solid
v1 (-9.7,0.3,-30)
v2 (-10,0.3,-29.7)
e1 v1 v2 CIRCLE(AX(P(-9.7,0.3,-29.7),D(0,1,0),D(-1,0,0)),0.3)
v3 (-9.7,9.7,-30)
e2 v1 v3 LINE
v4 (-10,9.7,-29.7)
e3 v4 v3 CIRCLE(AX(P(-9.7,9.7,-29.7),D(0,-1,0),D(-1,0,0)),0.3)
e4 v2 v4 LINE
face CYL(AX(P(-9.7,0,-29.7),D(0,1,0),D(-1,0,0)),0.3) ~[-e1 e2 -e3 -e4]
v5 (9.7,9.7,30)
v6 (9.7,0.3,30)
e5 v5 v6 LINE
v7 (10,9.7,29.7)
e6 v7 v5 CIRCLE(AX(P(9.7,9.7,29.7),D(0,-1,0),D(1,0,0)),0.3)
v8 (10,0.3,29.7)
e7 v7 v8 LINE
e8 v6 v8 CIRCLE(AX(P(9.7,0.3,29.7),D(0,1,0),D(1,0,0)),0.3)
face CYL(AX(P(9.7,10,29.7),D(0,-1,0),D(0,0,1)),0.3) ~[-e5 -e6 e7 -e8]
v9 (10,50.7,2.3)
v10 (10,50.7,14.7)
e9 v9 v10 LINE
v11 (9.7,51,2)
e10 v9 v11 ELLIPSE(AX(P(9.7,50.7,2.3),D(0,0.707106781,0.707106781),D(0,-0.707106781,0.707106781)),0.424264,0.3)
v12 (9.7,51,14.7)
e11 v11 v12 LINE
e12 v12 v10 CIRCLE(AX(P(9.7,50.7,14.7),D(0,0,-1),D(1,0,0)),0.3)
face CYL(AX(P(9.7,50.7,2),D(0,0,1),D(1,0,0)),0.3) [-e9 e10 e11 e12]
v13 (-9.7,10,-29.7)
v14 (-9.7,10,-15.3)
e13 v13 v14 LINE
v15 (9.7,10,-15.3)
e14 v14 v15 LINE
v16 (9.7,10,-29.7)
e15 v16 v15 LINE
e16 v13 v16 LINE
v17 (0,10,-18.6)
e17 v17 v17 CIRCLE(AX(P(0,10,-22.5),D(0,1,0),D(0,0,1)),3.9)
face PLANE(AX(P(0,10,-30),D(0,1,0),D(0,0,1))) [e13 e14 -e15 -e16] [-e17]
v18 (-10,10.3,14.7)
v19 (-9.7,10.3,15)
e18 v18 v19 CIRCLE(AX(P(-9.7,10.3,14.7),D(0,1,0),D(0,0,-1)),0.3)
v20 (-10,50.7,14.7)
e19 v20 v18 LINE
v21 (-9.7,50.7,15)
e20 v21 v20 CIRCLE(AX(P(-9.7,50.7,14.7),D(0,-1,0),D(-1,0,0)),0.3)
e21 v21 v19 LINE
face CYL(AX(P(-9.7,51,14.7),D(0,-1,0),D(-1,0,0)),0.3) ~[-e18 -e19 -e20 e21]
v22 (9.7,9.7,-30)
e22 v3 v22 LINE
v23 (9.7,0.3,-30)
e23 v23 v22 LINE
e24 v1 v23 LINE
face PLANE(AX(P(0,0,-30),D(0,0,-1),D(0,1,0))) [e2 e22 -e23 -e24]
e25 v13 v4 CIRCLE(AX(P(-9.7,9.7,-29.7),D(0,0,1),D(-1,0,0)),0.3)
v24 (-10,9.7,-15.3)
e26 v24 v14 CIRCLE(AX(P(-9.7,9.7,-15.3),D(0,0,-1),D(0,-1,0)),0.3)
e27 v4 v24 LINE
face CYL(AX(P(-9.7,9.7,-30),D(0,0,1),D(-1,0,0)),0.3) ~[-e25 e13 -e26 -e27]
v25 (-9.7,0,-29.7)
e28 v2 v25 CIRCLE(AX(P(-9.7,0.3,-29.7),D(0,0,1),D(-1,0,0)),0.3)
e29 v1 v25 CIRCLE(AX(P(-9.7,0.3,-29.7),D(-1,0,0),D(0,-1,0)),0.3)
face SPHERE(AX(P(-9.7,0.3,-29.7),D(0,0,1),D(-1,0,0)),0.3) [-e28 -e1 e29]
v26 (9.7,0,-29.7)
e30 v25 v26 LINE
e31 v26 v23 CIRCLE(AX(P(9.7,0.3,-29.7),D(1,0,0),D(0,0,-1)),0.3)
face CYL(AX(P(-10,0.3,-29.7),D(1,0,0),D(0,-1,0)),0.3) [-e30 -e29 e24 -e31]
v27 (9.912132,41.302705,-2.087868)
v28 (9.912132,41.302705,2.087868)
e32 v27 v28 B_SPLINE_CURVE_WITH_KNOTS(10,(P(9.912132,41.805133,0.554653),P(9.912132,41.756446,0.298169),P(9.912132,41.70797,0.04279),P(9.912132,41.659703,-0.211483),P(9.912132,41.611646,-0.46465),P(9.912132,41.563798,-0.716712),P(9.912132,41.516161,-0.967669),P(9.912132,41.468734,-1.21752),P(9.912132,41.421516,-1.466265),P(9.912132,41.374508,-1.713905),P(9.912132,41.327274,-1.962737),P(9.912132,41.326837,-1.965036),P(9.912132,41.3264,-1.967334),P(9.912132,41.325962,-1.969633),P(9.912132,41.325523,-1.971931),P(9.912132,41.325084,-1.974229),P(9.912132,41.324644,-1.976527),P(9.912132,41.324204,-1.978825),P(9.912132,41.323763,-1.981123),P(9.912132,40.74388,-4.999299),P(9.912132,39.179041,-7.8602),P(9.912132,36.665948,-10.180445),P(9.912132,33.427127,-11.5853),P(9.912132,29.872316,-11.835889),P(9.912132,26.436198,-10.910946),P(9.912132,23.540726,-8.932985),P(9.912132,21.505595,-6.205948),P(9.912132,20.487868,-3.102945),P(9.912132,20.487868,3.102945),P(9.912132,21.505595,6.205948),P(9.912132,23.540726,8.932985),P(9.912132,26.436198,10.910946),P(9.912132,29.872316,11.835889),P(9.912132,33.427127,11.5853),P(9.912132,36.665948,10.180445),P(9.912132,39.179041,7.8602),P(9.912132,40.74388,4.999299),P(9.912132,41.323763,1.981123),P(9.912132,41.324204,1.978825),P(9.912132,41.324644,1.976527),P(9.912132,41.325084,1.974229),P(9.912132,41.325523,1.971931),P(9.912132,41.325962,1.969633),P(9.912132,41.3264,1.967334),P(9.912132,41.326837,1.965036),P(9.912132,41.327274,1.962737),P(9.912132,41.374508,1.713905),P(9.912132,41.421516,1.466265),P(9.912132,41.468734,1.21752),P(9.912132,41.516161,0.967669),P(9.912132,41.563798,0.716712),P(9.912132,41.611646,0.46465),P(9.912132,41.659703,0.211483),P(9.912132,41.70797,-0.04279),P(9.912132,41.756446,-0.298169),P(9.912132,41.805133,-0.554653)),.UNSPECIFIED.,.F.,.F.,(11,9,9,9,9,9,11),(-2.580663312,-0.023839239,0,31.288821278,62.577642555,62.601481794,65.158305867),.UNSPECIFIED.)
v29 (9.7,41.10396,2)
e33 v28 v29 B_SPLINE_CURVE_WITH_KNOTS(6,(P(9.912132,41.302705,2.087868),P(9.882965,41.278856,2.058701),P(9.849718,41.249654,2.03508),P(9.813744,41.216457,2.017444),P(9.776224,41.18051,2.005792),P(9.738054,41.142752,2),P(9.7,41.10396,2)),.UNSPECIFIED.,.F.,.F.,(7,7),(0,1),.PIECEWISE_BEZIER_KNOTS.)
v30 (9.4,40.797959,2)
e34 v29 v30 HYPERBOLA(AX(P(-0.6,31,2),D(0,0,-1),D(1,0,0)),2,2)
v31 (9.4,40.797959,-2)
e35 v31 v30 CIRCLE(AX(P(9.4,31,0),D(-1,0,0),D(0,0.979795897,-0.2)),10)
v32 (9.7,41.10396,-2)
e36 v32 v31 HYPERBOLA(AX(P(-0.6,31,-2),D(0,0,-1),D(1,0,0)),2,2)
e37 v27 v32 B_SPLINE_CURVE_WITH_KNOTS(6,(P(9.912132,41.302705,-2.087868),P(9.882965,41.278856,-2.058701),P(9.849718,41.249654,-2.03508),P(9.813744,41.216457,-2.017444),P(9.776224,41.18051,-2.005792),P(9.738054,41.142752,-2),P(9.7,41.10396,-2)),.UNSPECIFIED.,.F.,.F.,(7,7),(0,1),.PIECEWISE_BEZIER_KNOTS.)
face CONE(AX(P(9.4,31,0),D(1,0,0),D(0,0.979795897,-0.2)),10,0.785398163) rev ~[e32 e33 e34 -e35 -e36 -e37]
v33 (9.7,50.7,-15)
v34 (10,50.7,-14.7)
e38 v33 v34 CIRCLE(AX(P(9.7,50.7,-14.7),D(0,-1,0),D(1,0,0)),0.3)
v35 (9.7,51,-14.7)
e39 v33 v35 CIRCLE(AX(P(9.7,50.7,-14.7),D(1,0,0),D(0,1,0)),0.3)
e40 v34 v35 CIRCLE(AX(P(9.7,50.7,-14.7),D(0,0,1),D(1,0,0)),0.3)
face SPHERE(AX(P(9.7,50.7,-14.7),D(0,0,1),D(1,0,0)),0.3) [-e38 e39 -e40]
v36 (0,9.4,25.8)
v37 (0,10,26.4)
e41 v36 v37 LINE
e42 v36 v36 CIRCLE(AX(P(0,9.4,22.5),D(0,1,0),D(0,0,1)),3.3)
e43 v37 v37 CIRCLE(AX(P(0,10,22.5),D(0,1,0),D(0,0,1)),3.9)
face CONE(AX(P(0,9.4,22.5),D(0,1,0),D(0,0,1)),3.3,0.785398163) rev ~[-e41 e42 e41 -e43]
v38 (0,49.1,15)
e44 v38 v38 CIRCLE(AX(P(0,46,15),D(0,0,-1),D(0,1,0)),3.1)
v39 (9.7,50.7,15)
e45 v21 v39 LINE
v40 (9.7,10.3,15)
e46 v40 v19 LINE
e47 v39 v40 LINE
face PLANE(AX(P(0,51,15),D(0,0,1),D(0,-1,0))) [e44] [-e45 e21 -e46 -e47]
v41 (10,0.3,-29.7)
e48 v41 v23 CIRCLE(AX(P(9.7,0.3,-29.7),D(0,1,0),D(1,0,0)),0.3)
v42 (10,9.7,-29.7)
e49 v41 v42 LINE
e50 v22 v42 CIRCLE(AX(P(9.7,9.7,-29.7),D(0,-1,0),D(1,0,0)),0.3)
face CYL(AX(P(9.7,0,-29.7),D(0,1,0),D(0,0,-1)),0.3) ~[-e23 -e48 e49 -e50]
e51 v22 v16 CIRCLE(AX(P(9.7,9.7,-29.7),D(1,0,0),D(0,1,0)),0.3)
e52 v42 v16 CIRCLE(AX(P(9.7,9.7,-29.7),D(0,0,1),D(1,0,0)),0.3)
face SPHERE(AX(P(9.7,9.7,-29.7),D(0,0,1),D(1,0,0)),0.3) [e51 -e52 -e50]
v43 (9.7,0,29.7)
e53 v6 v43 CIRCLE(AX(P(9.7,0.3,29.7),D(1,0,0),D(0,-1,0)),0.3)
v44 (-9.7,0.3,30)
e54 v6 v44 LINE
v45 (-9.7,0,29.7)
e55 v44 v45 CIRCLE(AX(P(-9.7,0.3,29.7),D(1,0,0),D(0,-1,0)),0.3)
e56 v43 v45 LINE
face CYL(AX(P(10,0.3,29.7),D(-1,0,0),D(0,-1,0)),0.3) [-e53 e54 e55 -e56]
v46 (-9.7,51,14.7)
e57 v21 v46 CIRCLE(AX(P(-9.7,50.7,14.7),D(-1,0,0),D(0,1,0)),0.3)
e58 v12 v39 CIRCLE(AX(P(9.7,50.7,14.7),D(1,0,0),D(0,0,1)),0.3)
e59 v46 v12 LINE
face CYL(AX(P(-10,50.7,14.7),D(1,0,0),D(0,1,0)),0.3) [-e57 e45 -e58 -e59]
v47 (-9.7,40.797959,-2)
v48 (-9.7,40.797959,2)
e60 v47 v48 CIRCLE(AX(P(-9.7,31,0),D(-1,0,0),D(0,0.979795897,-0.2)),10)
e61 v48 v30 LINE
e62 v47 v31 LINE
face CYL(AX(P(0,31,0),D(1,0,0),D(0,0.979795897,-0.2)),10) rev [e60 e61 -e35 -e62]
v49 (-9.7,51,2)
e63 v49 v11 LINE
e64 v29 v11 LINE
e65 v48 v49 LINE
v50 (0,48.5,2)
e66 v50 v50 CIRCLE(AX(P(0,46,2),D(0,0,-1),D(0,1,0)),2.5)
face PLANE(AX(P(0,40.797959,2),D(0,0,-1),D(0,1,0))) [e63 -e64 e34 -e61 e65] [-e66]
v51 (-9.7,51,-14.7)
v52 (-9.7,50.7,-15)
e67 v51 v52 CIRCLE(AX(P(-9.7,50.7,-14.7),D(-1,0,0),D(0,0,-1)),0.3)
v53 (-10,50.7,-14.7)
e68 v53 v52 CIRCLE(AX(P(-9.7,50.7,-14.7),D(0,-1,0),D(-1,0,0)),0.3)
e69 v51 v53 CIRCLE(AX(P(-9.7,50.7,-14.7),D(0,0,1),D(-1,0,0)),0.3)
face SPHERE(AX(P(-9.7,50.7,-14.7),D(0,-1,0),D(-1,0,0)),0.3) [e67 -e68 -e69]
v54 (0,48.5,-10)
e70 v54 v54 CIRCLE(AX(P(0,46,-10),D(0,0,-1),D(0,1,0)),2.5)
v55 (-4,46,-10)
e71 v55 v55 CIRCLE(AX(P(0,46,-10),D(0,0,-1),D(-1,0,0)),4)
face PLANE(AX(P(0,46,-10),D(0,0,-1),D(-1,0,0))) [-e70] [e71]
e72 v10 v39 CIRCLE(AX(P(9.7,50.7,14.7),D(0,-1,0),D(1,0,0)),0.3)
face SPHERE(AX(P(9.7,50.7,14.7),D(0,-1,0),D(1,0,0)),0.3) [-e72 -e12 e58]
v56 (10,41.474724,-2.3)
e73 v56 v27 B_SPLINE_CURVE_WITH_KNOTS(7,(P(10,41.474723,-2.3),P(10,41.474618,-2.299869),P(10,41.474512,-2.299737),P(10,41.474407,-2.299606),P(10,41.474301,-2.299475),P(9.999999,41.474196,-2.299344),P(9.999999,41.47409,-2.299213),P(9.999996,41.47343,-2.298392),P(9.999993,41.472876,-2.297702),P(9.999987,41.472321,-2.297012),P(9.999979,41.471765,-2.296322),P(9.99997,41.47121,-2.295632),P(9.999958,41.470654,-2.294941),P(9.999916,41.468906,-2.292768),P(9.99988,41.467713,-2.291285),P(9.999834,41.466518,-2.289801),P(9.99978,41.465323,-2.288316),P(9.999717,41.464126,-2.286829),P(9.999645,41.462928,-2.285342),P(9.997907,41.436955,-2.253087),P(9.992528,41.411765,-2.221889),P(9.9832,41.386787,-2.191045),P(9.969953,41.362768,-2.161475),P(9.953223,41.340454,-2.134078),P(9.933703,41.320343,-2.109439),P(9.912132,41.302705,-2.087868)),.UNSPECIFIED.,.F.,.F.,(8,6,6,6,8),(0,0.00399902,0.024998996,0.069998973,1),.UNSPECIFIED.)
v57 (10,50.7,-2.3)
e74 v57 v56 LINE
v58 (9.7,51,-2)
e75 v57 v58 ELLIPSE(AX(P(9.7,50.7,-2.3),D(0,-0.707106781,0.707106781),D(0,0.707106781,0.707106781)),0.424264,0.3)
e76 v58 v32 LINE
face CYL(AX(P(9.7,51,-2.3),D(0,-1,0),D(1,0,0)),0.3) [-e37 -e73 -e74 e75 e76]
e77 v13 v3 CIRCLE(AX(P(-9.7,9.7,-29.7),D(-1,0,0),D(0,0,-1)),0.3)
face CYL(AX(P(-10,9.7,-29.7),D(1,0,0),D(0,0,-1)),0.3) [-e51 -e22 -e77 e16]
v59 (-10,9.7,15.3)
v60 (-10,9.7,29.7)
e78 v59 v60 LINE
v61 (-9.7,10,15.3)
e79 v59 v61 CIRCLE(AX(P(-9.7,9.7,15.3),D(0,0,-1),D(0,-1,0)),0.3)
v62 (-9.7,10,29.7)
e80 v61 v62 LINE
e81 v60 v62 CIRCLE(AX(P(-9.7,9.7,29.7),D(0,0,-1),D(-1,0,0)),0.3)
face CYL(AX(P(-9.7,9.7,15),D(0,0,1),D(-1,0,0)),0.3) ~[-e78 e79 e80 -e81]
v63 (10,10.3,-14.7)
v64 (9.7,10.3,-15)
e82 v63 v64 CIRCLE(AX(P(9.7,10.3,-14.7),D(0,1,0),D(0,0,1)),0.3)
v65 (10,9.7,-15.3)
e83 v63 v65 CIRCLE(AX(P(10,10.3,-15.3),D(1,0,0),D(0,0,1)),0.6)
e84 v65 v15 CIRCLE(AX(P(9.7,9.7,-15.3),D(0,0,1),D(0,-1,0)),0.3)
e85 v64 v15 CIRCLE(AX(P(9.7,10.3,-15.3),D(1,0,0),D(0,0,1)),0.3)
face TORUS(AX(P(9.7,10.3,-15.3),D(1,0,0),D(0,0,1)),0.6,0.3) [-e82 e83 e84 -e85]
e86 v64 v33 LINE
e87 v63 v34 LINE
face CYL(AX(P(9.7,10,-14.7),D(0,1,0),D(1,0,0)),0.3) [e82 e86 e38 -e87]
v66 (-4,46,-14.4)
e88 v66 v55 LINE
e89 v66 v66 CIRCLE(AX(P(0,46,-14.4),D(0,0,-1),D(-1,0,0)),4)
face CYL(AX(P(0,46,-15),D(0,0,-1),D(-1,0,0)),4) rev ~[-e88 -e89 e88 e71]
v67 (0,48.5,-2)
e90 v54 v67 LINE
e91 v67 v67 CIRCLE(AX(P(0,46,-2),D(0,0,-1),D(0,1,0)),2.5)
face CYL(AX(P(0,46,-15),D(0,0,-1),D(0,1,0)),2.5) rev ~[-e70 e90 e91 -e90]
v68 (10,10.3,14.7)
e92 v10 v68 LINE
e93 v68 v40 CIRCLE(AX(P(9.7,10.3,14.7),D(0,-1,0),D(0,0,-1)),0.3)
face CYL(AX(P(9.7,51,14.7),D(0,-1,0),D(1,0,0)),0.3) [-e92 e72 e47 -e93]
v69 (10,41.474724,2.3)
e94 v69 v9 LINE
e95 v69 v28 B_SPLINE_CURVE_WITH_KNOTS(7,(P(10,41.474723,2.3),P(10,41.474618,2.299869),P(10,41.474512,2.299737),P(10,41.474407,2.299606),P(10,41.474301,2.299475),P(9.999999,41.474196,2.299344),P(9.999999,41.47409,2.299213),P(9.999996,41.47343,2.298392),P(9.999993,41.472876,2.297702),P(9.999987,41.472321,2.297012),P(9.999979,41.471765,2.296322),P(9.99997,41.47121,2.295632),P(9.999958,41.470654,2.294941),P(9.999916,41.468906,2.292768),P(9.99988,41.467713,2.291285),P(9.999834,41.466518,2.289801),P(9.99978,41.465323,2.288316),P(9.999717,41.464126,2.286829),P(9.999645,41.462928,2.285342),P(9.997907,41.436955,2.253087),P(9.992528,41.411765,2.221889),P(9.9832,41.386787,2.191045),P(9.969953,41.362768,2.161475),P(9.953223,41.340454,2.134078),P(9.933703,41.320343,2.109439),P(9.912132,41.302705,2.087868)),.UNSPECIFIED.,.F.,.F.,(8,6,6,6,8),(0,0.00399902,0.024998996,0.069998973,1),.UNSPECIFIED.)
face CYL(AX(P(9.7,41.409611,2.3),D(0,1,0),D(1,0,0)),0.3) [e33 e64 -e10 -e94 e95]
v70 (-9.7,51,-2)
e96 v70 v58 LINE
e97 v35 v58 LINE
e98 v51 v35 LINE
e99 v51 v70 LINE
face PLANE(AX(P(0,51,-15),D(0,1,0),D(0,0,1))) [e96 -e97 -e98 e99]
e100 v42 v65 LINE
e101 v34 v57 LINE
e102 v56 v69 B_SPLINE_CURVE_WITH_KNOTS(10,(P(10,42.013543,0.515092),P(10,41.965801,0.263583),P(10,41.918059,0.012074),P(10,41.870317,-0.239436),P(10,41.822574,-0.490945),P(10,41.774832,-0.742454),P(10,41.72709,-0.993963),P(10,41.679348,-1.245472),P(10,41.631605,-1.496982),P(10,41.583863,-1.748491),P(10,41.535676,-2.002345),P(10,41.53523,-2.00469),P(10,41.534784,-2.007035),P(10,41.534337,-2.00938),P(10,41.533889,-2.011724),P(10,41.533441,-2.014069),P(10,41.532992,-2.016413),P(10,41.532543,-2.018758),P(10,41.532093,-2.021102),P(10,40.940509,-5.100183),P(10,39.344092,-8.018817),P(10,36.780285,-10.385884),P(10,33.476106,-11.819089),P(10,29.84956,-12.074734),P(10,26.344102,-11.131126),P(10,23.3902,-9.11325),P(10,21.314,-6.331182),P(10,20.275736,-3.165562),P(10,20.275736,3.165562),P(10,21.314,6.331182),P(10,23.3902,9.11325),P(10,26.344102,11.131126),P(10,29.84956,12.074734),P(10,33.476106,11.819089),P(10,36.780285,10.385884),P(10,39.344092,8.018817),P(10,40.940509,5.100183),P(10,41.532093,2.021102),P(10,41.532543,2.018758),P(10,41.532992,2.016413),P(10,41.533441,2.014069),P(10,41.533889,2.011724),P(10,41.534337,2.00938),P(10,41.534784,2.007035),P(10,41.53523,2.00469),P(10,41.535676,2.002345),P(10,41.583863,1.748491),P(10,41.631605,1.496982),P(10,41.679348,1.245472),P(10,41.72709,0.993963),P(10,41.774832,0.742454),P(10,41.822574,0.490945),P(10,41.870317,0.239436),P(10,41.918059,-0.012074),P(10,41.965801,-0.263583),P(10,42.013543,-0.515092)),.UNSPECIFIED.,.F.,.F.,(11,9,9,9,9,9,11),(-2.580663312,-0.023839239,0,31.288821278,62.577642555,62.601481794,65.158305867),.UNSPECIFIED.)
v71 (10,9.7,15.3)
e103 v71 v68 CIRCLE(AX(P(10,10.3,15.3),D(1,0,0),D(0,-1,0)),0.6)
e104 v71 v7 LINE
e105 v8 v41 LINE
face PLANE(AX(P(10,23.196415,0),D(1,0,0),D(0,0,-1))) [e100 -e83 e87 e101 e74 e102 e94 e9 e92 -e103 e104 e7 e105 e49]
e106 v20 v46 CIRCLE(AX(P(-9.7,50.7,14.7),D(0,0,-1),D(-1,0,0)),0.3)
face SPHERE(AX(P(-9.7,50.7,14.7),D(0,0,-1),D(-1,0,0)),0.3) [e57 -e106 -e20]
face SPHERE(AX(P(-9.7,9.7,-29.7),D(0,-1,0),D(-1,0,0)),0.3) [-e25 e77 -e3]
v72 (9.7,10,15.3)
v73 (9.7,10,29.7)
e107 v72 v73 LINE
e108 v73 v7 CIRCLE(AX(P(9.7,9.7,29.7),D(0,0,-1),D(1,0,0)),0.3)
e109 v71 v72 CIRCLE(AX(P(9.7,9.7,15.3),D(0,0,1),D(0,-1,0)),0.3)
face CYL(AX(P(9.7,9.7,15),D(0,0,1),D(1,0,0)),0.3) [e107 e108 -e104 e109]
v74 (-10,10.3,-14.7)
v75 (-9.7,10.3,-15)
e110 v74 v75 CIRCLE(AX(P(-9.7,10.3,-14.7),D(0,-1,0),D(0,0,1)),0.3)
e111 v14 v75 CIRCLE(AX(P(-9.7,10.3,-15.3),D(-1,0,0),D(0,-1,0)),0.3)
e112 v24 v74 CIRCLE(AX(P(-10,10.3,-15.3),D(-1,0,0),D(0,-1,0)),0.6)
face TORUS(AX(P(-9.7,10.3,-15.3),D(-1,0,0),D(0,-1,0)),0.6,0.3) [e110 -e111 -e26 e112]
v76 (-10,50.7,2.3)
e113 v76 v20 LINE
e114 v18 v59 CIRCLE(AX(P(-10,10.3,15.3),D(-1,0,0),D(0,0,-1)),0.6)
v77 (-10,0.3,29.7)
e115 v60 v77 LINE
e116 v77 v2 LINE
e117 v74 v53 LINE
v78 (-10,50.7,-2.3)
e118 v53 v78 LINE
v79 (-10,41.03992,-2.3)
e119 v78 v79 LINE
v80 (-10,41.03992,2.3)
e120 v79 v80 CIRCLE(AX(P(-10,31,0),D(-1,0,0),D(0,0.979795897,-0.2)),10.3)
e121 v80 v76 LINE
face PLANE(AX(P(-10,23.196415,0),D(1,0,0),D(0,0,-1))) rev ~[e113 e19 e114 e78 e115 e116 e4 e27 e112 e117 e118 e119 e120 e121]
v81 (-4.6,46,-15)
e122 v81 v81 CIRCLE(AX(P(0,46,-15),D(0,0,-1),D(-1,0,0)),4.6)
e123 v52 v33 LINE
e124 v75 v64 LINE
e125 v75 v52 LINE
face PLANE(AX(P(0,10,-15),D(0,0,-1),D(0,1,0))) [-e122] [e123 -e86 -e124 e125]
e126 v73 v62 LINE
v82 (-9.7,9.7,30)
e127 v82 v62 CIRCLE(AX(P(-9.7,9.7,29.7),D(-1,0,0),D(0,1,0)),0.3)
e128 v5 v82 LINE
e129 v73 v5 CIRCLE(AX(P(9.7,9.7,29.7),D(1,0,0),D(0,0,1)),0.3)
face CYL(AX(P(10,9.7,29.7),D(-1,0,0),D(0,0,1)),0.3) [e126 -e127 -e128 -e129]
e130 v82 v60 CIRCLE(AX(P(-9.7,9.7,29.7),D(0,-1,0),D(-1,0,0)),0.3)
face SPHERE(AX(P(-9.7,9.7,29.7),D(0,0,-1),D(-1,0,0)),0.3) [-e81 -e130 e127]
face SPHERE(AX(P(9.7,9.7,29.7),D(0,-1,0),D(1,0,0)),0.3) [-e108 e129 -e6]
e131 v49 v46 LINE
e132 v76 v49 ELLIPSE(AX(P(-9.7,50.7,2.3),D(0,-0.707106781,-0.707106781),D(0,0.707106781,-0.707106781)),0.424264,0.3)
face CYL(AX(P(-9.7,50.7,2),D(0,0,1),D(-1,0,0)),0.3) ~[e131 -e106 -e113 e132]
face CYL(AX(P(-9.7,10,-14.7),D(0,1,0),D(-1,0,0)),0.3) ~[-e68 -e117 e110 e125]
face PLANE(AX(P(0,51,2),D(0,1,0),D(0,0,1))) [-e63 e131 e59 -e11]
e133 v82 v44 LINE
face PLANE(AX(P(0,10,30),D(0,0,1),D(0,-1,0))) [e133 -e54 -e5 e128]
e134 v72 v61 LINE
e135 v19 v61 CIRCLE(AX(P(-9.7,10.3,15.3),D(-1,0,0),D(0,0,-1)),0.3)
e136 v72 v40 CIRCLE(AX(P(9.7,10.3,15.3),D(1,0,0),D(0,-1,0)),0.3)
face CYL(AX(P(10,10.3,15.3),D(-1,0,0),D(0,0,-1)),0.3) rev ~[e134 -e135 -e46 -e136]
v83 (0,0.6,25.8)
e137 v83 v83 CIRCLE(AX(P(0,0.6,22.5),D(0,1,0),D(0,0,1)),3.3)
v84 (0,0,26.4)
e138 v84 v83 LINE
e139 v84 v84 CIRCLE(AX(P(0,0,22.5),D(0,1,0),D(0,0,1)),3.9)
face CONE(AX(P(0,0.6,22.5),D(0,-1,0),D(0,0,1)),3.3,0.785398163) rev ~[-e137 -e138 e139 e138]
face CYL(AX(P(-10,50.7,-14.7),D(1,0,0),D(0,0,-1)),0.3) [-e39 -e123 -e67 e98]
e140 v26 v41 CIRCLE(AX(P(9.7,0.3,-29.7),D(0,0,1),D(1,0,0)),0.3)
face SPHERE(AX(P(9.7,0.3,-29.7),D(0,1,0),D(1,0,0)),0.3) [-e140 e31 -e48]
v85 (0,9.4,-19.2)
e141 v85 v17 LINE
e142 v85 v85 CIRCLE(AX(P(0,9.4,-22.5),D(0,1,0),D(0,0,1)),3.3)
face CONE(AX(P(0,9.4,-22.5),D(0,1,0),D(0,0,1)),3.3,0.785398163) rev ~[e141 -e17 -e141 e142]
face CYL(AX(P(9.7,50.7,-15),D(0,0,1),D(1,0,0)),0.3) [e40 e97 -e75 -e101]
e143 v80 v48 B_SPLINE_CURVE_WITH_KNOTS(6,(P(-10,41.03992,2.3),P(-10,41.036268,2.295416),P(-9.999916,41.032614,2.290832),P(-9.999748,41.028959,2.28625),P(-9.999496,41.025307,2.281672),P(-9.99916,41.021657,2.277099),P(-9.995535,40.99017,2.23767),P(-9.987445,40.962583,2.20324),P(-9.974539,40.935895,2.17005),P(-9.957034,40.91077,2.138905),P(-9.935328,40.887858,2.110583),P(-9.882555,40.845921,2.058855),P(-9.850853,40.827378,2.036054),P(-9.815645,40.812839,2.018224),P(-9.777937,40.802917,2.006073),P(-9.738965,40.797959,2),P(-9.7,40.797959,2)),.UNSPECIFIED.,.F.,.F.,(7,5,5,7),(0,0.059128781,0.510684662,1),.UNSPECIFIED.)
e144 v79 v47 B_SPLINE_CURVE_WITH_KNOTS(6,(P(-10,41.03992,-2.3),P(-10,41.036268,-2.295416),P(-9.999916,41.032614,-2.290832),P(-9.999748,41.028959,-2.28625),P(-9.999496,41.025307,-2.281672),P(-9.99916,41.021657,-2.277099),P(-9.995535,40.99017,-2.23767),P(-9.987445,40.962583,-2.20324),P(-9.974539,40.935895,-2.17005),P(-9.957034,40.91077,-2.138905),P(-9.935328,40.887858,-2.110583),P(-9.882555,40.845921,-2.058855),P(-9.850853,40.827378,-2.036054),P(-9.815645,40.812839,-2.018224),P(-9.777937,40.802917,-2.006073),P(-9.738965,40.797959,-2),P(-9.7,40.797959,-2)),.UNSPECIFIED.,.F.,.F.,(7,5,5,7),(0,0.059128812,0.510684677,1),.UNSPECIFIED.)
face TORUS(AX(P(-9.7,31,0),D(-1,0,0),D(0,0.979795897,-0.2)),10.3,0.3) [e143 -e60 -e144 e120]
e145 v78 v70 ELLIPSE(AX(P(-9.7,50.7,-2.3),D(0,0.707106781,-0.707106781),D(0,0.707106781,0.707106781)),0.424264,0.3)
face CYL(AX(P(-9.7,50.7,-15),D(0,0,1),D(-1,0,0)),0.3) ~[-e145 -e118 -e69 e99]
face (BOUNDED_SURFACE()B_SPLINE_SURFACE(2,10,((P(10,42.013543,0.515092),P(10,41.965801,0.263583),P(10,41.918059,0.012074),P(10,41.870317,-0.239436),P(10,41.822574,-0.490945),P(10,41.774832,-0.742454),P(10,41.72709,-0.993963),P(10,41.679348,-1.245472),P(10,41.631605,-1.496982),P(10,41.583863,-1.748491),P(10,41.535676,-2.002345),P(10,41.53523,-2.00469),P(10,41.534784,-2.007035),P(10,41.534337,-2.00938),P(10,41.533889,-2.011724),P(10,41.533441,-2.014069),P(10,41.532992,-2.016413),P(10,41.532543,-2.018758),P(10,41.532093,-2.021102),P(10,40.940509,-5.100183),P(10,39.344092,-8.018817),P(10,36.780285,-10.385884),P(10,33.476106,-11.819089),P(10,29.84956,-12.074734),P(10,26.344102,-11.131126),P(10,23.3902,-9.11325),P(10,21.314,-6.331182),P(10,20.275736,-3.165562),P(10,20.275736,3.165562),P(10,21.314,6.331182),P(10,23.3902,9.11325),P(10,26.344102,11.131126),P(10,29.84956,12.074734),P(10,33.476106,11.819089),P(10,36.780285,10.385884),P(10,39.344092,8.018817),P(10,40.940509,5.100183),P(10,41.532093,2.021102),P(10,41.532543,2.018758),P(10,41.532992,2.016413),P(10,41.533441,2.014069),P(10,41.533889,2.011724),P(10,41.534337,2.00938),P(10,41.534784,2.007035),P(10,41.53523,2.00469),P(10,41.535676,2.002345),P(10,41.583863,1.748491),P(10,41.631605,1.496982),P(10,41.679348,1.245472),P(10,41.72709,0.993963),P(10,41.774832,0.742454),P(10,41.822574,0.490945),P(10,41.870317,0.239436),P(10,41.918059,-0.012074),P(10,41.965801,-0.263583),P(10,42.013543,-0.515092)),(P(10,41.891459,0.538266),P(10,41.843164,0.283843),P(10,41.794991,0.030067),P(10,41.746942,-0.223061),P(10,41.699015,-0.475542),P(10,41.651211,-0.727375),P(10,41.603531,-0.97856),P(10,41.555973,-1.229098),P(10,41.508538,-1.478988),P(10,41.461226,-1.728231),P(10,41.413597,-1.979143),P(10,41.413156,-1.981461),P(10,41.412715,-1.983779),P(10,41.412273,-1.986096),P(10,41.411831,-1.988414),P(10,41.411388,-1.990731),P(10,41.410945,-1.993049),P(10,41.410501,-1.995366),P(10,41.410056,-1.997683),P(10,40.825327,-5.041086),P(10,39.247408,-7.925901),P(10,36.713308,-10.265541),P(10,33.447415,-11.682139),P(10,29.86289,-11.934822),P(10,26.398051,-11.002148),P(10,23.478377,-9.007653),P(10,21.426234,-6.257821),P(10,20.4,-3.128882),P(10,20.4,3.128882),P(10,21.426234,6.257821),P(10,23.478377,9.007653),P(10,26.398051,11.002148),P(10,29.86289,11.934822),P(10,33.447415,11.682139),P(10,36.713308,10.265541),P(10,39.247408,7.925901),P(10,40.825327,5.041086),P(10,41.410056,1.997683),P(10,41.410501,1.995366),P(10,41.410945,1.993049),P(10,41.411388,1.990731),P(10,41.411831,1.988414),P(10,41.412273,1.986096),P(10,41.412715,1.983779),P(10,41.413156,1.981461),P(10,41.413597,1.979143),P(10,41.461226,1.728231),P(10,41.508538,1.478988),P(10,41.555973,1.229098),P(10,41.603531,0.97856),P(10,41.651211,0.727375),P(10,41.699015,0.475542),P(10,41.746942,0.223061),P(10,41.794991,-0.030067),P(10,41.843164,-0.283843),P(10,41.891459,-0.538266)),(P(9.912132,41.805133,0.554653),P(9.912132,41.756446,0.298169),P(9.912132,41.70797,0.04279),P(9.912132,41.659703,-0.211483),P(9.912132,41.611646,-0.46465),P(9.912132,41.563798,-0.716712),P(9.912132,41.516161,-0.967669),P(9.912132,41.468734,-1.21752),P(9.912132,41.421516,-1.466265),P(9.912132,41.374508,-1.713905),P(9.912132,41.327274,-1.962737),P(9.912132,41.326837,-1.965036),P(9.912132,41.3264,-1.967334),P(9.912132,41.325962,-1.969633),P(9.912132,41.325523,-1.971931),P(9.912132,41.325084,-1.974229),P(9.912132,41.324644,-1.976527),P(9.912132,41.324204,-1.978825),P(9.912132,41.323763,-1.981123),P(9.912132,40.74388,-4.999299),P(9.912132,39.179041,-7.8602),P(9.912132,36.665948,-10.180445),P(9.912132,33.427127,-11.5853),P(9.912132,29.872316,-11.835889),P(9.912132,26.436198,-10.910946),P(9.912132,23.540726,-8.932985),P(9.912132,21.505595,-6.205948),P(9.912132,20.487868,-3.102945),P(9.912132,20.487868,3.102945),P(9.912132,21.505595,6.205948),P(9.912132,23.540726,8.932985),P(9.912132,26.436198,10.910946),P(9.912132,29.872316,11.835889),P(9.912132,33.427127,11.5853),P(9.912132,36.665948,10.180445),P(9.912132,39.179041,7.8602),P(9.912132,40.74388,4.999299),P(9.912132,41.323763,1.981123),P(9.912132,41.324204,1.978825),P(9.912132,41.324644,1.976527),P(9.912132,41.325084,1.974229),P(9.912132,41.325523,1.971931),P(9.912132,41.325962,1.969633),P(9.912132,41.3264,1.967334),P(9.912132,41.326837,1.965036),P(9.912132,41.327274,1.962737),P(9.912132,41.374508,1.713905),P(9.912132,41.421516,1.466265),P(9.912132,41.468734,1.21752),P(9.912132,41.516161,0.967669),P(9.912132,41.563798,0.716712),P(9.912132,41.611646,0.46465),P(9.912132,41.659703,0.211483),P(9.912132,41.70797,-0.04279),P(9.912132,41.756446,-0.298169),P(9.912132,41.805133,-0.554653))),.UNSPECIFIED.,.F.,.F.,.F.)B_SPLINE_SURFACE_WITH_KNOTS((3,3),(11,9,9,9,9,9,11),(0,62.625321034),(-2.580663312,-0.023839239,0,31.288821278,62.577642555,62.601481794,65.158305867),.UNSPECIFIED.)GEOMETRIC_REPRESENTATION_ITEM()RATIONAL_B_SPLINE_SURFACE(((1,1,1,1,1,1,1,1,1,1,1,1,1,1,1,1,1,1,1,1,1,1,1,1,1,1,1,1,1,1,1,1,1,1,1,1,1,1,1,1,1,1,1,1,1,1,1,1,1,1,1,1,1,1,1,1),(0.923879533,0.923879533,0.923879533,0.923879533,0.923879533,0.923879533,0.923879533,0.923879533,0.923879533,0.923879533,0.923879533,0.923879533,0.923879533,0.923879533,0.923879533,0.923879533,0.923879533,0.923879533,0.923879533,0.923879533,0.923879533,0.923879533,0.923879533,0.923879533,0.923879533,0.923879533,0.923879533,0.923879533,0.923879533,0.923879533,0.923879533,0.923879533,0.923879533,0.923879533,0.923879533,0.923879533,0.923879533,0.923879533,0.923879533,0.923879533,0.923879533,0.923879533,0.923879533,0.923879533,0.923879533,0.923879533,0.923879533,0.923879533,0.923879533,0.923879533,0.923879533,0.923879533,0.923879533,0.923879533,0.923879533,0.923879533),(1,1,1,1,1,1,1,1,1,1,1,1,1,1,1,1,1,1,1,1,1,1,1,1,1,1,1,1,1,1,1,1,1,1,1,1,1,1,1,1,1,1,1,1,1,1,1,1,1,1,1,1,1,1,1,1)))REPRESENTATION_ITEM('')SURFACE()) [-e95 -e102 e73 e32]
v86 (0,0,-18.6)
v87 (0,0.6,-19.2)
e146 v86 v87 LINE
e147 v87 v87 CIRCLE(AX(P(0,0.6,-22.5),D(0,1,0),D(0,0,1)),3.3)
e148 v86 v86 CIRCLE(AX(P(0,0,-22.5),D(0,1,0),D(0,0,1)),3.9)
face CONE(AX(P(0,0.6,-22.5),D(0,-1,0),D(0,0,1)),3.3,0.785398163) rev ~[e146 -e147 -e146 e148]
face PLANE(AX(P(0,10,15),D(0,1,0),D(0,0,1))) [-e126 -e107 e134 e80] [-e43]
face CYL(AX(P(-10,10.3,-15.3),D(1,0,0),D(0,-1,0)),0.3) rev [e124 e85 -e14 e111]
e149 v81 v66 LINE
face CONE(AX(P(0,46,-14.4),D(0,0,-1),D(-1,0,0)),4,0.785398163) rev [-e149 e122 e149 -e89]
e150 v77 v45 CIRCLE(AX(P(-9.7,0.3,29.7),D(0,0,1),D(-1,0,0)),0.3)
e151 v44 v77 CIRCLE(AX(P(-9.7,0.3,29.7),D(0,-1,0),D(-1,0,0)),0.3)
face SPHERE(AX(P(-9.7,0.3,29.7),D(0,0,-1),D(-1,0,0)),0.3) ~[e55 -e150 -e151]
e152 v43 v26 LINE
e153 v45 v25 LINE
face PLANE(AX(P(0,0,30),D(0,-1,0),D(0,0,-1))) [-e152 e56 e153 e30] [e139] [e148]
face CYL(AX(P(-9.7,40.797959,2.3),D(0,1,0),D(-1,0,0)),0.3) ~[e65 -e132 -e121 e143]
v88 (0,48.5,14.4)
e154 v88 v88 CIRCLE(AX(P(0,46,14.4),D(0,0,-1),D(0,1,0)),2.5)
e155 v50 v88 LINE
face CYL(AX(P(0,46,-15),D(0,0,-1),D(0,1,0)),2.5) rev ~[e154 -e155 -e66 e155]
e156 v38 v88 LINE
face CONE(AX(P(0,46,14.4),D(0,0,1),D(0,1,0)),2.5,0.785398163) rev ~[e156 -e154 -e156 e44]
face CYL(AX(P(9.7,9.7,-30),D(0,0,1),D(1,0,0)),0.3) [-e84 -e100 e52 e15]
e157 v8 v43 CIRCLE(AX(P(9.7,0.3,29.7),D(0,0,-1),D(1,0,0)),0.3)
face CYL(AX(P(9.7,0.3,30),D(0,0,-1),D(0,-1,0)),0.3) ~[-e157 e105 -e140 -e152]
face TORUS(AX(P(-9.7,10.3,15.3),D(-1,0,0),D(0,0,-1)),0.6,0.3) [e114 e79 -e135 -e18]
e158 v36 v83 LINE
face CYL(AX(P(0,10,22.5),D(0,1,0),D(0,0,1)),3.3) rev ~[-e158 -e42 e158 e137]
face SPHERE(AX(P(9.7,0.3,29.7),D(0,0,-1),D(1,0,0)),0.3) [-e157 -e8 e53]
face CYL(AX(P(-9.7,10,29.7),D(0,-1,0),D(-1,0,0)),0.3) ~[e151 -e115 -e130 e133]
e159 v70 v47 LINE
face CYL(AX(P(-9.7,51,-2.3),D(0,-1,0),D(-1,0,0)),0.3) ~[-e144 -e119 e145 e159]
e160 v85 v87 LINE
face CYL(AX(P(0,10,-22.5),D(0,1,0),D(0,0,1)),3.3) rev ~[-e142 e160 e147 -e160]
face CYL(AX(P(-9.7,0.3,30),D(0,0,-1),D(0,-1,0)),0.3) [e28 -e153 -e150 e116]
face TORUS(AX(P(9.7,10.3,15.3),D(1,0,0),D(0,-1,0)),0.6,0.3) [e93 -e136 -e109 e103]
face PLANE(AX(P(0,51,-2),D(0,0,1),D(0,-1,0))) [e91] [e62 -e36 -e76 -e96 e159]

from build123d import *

# Parameters (mm, degrees)
BOSS_EXTRUDE1_DEPTH = 10
SKETCH2_R           = 3.3
CUT_EXTRUDE1_DEPTH  = 11
SKETCH3_R           = 2.5
CUT_EXTRUDE2_DEPTH  = 46
SKETCH4_R           = 4
CUT_EXTRUDE3_DEPTH  = 5
CHAMFER_1_SIZE      = 0.6
FILLET_1_R          = 0.3


with BuildPart() as part:
    # Sketch1 → Boss-Extrude1 (new body, symmetric)
    with BuildSketch(Plane(origin=(0, 0, 0), x_dir=(0, 0, -1), z_dir=(1, 0, 0))):
        with BuildLine():
            Line((-30, 0), (30, 0))
            Line((30, 0), (30, 10))
            Line((30, 10), (15, 10))
            Line((15, 10), (15, 51))
            Line((15, 51), (2, 51))
            Line((2, 51), (2, 40.797958971))
            ThreePointArc((2, 40.797958971), (0, 21), (-2, 40.797958971))
            Line((-2, 40.797958971), (-2, 51))
            Line((-2, 51), (-15, 51))
            Line((-15, 51), (-15, 10))
            Line((-15, 10), (-30, 10))
            Line((-30, 10), (-30, 0))
        make_face()
    extrude(amount=BOSS_EXTRUDE1_DEPTH, both=True)

    # Sketch2 → Cut-Extrude1 (cut, through all)
    with BuildSketch(Plane(origin=(0, 10, 0), x_dir=(1, 0, 0), z_dir=(0, 1, 0))):
        with Locations(Location((0, -22.5, 0), (0, 0, 270))):  # turned: the seam where the file's is
            Circle(SKETCH2_R)
        with Locations(Location((0, 22.5, 0), (0, 0, 270))):  # turned: the seam where the file's is
            Circle(SKETCH2_R)
    extrude(amount=-CUT_EXTRUDE1_DEPTH, mode=Mode.SUBTRACT)

    # Sketch3 → Cut-Extrude2 (cut, through all)
    with BuildSketch(Plane(origin=(0, 0, -15), x_dir=(-1, 0, 0), z_dir=(0, 0, -1))):
        with Locations(Location((0, 46, 0), (0, 0, 90))):  # turned: the seam where the file's is
            Circle(SKETCH3_R)
    extrude(amount=-CUT_EXTRUDE2_DEPTH, mode=Mode.SUBTRACT)

    # Sketch4 → Cut-Extrude3 (cut)
    with BuildSketch(Plane(origin=(0, 0, -15), x_dir=(-1, 0, 0), z_dir=(0, 0, -1))):
        with Locations((0, 46)):
            Circle(SKETCH4_R)
    extrude(amount=-CUT_EXTRUDE3_DEPTH, mode=Mode.SUBTRACT)

    # Фаска1
    chamfer_1_edges = [part.edges().sort_by_distance(p)[0] for p in [
        (10, 21, 0),
        (0, 0, 19.2),
        (0, 10, 19.2),
        (0, 0, -25.8),
        (0, 10, -25.8),
        (0, 43.5, 15),
        (4, 46, -15),
    ]]
    chamfer(chamfer_1_edges, length=CHAMFER_1_SIZE)

    # Скругление1
    fillet_1_edges = [part.edges().sort_by_distance(p)[0] for p in [
        (-10, 0, 0),
        (-10, 5, -30),
        (-10, 10, -22.5),
        (-10, 30.5, -15),
        (-10, 51, -8.5),
        (-10, 45.898979486, -2),
        (-10, 21, 0),
        (-10, 45.898979486, 2),
        (-10, 51, 8.5),
        (-10, 30.5, 15),
        (-10, 10, 22.5),
        (-10, 5, 30),
        (10, 51, -8.5),
        (10, 30.5, -15),
        (10, 10, -22.5),
        (10, 5, -30),
        (10, 0, 0),
        (10, 5, 30),
        (10, 10, 22.5),
        (10, 30.5, 15),
        (10, 51, 8.5),
        (10, 46.204805472, 2),
        (10, 20.4, 0),
        (10, 46.204805472, -2),
        (0, 0, -30),
        (0, 10, -30),
        (0, 10, -15),
        (0, 51, -15),
        (0, 0, 30),
        (0, 10, 30),
        (0, 10, 15),
        (0, 51, 15),
    ]]
    fillet(fillet_1_edges, radius=FILLET_1_R)


solid = part.part
